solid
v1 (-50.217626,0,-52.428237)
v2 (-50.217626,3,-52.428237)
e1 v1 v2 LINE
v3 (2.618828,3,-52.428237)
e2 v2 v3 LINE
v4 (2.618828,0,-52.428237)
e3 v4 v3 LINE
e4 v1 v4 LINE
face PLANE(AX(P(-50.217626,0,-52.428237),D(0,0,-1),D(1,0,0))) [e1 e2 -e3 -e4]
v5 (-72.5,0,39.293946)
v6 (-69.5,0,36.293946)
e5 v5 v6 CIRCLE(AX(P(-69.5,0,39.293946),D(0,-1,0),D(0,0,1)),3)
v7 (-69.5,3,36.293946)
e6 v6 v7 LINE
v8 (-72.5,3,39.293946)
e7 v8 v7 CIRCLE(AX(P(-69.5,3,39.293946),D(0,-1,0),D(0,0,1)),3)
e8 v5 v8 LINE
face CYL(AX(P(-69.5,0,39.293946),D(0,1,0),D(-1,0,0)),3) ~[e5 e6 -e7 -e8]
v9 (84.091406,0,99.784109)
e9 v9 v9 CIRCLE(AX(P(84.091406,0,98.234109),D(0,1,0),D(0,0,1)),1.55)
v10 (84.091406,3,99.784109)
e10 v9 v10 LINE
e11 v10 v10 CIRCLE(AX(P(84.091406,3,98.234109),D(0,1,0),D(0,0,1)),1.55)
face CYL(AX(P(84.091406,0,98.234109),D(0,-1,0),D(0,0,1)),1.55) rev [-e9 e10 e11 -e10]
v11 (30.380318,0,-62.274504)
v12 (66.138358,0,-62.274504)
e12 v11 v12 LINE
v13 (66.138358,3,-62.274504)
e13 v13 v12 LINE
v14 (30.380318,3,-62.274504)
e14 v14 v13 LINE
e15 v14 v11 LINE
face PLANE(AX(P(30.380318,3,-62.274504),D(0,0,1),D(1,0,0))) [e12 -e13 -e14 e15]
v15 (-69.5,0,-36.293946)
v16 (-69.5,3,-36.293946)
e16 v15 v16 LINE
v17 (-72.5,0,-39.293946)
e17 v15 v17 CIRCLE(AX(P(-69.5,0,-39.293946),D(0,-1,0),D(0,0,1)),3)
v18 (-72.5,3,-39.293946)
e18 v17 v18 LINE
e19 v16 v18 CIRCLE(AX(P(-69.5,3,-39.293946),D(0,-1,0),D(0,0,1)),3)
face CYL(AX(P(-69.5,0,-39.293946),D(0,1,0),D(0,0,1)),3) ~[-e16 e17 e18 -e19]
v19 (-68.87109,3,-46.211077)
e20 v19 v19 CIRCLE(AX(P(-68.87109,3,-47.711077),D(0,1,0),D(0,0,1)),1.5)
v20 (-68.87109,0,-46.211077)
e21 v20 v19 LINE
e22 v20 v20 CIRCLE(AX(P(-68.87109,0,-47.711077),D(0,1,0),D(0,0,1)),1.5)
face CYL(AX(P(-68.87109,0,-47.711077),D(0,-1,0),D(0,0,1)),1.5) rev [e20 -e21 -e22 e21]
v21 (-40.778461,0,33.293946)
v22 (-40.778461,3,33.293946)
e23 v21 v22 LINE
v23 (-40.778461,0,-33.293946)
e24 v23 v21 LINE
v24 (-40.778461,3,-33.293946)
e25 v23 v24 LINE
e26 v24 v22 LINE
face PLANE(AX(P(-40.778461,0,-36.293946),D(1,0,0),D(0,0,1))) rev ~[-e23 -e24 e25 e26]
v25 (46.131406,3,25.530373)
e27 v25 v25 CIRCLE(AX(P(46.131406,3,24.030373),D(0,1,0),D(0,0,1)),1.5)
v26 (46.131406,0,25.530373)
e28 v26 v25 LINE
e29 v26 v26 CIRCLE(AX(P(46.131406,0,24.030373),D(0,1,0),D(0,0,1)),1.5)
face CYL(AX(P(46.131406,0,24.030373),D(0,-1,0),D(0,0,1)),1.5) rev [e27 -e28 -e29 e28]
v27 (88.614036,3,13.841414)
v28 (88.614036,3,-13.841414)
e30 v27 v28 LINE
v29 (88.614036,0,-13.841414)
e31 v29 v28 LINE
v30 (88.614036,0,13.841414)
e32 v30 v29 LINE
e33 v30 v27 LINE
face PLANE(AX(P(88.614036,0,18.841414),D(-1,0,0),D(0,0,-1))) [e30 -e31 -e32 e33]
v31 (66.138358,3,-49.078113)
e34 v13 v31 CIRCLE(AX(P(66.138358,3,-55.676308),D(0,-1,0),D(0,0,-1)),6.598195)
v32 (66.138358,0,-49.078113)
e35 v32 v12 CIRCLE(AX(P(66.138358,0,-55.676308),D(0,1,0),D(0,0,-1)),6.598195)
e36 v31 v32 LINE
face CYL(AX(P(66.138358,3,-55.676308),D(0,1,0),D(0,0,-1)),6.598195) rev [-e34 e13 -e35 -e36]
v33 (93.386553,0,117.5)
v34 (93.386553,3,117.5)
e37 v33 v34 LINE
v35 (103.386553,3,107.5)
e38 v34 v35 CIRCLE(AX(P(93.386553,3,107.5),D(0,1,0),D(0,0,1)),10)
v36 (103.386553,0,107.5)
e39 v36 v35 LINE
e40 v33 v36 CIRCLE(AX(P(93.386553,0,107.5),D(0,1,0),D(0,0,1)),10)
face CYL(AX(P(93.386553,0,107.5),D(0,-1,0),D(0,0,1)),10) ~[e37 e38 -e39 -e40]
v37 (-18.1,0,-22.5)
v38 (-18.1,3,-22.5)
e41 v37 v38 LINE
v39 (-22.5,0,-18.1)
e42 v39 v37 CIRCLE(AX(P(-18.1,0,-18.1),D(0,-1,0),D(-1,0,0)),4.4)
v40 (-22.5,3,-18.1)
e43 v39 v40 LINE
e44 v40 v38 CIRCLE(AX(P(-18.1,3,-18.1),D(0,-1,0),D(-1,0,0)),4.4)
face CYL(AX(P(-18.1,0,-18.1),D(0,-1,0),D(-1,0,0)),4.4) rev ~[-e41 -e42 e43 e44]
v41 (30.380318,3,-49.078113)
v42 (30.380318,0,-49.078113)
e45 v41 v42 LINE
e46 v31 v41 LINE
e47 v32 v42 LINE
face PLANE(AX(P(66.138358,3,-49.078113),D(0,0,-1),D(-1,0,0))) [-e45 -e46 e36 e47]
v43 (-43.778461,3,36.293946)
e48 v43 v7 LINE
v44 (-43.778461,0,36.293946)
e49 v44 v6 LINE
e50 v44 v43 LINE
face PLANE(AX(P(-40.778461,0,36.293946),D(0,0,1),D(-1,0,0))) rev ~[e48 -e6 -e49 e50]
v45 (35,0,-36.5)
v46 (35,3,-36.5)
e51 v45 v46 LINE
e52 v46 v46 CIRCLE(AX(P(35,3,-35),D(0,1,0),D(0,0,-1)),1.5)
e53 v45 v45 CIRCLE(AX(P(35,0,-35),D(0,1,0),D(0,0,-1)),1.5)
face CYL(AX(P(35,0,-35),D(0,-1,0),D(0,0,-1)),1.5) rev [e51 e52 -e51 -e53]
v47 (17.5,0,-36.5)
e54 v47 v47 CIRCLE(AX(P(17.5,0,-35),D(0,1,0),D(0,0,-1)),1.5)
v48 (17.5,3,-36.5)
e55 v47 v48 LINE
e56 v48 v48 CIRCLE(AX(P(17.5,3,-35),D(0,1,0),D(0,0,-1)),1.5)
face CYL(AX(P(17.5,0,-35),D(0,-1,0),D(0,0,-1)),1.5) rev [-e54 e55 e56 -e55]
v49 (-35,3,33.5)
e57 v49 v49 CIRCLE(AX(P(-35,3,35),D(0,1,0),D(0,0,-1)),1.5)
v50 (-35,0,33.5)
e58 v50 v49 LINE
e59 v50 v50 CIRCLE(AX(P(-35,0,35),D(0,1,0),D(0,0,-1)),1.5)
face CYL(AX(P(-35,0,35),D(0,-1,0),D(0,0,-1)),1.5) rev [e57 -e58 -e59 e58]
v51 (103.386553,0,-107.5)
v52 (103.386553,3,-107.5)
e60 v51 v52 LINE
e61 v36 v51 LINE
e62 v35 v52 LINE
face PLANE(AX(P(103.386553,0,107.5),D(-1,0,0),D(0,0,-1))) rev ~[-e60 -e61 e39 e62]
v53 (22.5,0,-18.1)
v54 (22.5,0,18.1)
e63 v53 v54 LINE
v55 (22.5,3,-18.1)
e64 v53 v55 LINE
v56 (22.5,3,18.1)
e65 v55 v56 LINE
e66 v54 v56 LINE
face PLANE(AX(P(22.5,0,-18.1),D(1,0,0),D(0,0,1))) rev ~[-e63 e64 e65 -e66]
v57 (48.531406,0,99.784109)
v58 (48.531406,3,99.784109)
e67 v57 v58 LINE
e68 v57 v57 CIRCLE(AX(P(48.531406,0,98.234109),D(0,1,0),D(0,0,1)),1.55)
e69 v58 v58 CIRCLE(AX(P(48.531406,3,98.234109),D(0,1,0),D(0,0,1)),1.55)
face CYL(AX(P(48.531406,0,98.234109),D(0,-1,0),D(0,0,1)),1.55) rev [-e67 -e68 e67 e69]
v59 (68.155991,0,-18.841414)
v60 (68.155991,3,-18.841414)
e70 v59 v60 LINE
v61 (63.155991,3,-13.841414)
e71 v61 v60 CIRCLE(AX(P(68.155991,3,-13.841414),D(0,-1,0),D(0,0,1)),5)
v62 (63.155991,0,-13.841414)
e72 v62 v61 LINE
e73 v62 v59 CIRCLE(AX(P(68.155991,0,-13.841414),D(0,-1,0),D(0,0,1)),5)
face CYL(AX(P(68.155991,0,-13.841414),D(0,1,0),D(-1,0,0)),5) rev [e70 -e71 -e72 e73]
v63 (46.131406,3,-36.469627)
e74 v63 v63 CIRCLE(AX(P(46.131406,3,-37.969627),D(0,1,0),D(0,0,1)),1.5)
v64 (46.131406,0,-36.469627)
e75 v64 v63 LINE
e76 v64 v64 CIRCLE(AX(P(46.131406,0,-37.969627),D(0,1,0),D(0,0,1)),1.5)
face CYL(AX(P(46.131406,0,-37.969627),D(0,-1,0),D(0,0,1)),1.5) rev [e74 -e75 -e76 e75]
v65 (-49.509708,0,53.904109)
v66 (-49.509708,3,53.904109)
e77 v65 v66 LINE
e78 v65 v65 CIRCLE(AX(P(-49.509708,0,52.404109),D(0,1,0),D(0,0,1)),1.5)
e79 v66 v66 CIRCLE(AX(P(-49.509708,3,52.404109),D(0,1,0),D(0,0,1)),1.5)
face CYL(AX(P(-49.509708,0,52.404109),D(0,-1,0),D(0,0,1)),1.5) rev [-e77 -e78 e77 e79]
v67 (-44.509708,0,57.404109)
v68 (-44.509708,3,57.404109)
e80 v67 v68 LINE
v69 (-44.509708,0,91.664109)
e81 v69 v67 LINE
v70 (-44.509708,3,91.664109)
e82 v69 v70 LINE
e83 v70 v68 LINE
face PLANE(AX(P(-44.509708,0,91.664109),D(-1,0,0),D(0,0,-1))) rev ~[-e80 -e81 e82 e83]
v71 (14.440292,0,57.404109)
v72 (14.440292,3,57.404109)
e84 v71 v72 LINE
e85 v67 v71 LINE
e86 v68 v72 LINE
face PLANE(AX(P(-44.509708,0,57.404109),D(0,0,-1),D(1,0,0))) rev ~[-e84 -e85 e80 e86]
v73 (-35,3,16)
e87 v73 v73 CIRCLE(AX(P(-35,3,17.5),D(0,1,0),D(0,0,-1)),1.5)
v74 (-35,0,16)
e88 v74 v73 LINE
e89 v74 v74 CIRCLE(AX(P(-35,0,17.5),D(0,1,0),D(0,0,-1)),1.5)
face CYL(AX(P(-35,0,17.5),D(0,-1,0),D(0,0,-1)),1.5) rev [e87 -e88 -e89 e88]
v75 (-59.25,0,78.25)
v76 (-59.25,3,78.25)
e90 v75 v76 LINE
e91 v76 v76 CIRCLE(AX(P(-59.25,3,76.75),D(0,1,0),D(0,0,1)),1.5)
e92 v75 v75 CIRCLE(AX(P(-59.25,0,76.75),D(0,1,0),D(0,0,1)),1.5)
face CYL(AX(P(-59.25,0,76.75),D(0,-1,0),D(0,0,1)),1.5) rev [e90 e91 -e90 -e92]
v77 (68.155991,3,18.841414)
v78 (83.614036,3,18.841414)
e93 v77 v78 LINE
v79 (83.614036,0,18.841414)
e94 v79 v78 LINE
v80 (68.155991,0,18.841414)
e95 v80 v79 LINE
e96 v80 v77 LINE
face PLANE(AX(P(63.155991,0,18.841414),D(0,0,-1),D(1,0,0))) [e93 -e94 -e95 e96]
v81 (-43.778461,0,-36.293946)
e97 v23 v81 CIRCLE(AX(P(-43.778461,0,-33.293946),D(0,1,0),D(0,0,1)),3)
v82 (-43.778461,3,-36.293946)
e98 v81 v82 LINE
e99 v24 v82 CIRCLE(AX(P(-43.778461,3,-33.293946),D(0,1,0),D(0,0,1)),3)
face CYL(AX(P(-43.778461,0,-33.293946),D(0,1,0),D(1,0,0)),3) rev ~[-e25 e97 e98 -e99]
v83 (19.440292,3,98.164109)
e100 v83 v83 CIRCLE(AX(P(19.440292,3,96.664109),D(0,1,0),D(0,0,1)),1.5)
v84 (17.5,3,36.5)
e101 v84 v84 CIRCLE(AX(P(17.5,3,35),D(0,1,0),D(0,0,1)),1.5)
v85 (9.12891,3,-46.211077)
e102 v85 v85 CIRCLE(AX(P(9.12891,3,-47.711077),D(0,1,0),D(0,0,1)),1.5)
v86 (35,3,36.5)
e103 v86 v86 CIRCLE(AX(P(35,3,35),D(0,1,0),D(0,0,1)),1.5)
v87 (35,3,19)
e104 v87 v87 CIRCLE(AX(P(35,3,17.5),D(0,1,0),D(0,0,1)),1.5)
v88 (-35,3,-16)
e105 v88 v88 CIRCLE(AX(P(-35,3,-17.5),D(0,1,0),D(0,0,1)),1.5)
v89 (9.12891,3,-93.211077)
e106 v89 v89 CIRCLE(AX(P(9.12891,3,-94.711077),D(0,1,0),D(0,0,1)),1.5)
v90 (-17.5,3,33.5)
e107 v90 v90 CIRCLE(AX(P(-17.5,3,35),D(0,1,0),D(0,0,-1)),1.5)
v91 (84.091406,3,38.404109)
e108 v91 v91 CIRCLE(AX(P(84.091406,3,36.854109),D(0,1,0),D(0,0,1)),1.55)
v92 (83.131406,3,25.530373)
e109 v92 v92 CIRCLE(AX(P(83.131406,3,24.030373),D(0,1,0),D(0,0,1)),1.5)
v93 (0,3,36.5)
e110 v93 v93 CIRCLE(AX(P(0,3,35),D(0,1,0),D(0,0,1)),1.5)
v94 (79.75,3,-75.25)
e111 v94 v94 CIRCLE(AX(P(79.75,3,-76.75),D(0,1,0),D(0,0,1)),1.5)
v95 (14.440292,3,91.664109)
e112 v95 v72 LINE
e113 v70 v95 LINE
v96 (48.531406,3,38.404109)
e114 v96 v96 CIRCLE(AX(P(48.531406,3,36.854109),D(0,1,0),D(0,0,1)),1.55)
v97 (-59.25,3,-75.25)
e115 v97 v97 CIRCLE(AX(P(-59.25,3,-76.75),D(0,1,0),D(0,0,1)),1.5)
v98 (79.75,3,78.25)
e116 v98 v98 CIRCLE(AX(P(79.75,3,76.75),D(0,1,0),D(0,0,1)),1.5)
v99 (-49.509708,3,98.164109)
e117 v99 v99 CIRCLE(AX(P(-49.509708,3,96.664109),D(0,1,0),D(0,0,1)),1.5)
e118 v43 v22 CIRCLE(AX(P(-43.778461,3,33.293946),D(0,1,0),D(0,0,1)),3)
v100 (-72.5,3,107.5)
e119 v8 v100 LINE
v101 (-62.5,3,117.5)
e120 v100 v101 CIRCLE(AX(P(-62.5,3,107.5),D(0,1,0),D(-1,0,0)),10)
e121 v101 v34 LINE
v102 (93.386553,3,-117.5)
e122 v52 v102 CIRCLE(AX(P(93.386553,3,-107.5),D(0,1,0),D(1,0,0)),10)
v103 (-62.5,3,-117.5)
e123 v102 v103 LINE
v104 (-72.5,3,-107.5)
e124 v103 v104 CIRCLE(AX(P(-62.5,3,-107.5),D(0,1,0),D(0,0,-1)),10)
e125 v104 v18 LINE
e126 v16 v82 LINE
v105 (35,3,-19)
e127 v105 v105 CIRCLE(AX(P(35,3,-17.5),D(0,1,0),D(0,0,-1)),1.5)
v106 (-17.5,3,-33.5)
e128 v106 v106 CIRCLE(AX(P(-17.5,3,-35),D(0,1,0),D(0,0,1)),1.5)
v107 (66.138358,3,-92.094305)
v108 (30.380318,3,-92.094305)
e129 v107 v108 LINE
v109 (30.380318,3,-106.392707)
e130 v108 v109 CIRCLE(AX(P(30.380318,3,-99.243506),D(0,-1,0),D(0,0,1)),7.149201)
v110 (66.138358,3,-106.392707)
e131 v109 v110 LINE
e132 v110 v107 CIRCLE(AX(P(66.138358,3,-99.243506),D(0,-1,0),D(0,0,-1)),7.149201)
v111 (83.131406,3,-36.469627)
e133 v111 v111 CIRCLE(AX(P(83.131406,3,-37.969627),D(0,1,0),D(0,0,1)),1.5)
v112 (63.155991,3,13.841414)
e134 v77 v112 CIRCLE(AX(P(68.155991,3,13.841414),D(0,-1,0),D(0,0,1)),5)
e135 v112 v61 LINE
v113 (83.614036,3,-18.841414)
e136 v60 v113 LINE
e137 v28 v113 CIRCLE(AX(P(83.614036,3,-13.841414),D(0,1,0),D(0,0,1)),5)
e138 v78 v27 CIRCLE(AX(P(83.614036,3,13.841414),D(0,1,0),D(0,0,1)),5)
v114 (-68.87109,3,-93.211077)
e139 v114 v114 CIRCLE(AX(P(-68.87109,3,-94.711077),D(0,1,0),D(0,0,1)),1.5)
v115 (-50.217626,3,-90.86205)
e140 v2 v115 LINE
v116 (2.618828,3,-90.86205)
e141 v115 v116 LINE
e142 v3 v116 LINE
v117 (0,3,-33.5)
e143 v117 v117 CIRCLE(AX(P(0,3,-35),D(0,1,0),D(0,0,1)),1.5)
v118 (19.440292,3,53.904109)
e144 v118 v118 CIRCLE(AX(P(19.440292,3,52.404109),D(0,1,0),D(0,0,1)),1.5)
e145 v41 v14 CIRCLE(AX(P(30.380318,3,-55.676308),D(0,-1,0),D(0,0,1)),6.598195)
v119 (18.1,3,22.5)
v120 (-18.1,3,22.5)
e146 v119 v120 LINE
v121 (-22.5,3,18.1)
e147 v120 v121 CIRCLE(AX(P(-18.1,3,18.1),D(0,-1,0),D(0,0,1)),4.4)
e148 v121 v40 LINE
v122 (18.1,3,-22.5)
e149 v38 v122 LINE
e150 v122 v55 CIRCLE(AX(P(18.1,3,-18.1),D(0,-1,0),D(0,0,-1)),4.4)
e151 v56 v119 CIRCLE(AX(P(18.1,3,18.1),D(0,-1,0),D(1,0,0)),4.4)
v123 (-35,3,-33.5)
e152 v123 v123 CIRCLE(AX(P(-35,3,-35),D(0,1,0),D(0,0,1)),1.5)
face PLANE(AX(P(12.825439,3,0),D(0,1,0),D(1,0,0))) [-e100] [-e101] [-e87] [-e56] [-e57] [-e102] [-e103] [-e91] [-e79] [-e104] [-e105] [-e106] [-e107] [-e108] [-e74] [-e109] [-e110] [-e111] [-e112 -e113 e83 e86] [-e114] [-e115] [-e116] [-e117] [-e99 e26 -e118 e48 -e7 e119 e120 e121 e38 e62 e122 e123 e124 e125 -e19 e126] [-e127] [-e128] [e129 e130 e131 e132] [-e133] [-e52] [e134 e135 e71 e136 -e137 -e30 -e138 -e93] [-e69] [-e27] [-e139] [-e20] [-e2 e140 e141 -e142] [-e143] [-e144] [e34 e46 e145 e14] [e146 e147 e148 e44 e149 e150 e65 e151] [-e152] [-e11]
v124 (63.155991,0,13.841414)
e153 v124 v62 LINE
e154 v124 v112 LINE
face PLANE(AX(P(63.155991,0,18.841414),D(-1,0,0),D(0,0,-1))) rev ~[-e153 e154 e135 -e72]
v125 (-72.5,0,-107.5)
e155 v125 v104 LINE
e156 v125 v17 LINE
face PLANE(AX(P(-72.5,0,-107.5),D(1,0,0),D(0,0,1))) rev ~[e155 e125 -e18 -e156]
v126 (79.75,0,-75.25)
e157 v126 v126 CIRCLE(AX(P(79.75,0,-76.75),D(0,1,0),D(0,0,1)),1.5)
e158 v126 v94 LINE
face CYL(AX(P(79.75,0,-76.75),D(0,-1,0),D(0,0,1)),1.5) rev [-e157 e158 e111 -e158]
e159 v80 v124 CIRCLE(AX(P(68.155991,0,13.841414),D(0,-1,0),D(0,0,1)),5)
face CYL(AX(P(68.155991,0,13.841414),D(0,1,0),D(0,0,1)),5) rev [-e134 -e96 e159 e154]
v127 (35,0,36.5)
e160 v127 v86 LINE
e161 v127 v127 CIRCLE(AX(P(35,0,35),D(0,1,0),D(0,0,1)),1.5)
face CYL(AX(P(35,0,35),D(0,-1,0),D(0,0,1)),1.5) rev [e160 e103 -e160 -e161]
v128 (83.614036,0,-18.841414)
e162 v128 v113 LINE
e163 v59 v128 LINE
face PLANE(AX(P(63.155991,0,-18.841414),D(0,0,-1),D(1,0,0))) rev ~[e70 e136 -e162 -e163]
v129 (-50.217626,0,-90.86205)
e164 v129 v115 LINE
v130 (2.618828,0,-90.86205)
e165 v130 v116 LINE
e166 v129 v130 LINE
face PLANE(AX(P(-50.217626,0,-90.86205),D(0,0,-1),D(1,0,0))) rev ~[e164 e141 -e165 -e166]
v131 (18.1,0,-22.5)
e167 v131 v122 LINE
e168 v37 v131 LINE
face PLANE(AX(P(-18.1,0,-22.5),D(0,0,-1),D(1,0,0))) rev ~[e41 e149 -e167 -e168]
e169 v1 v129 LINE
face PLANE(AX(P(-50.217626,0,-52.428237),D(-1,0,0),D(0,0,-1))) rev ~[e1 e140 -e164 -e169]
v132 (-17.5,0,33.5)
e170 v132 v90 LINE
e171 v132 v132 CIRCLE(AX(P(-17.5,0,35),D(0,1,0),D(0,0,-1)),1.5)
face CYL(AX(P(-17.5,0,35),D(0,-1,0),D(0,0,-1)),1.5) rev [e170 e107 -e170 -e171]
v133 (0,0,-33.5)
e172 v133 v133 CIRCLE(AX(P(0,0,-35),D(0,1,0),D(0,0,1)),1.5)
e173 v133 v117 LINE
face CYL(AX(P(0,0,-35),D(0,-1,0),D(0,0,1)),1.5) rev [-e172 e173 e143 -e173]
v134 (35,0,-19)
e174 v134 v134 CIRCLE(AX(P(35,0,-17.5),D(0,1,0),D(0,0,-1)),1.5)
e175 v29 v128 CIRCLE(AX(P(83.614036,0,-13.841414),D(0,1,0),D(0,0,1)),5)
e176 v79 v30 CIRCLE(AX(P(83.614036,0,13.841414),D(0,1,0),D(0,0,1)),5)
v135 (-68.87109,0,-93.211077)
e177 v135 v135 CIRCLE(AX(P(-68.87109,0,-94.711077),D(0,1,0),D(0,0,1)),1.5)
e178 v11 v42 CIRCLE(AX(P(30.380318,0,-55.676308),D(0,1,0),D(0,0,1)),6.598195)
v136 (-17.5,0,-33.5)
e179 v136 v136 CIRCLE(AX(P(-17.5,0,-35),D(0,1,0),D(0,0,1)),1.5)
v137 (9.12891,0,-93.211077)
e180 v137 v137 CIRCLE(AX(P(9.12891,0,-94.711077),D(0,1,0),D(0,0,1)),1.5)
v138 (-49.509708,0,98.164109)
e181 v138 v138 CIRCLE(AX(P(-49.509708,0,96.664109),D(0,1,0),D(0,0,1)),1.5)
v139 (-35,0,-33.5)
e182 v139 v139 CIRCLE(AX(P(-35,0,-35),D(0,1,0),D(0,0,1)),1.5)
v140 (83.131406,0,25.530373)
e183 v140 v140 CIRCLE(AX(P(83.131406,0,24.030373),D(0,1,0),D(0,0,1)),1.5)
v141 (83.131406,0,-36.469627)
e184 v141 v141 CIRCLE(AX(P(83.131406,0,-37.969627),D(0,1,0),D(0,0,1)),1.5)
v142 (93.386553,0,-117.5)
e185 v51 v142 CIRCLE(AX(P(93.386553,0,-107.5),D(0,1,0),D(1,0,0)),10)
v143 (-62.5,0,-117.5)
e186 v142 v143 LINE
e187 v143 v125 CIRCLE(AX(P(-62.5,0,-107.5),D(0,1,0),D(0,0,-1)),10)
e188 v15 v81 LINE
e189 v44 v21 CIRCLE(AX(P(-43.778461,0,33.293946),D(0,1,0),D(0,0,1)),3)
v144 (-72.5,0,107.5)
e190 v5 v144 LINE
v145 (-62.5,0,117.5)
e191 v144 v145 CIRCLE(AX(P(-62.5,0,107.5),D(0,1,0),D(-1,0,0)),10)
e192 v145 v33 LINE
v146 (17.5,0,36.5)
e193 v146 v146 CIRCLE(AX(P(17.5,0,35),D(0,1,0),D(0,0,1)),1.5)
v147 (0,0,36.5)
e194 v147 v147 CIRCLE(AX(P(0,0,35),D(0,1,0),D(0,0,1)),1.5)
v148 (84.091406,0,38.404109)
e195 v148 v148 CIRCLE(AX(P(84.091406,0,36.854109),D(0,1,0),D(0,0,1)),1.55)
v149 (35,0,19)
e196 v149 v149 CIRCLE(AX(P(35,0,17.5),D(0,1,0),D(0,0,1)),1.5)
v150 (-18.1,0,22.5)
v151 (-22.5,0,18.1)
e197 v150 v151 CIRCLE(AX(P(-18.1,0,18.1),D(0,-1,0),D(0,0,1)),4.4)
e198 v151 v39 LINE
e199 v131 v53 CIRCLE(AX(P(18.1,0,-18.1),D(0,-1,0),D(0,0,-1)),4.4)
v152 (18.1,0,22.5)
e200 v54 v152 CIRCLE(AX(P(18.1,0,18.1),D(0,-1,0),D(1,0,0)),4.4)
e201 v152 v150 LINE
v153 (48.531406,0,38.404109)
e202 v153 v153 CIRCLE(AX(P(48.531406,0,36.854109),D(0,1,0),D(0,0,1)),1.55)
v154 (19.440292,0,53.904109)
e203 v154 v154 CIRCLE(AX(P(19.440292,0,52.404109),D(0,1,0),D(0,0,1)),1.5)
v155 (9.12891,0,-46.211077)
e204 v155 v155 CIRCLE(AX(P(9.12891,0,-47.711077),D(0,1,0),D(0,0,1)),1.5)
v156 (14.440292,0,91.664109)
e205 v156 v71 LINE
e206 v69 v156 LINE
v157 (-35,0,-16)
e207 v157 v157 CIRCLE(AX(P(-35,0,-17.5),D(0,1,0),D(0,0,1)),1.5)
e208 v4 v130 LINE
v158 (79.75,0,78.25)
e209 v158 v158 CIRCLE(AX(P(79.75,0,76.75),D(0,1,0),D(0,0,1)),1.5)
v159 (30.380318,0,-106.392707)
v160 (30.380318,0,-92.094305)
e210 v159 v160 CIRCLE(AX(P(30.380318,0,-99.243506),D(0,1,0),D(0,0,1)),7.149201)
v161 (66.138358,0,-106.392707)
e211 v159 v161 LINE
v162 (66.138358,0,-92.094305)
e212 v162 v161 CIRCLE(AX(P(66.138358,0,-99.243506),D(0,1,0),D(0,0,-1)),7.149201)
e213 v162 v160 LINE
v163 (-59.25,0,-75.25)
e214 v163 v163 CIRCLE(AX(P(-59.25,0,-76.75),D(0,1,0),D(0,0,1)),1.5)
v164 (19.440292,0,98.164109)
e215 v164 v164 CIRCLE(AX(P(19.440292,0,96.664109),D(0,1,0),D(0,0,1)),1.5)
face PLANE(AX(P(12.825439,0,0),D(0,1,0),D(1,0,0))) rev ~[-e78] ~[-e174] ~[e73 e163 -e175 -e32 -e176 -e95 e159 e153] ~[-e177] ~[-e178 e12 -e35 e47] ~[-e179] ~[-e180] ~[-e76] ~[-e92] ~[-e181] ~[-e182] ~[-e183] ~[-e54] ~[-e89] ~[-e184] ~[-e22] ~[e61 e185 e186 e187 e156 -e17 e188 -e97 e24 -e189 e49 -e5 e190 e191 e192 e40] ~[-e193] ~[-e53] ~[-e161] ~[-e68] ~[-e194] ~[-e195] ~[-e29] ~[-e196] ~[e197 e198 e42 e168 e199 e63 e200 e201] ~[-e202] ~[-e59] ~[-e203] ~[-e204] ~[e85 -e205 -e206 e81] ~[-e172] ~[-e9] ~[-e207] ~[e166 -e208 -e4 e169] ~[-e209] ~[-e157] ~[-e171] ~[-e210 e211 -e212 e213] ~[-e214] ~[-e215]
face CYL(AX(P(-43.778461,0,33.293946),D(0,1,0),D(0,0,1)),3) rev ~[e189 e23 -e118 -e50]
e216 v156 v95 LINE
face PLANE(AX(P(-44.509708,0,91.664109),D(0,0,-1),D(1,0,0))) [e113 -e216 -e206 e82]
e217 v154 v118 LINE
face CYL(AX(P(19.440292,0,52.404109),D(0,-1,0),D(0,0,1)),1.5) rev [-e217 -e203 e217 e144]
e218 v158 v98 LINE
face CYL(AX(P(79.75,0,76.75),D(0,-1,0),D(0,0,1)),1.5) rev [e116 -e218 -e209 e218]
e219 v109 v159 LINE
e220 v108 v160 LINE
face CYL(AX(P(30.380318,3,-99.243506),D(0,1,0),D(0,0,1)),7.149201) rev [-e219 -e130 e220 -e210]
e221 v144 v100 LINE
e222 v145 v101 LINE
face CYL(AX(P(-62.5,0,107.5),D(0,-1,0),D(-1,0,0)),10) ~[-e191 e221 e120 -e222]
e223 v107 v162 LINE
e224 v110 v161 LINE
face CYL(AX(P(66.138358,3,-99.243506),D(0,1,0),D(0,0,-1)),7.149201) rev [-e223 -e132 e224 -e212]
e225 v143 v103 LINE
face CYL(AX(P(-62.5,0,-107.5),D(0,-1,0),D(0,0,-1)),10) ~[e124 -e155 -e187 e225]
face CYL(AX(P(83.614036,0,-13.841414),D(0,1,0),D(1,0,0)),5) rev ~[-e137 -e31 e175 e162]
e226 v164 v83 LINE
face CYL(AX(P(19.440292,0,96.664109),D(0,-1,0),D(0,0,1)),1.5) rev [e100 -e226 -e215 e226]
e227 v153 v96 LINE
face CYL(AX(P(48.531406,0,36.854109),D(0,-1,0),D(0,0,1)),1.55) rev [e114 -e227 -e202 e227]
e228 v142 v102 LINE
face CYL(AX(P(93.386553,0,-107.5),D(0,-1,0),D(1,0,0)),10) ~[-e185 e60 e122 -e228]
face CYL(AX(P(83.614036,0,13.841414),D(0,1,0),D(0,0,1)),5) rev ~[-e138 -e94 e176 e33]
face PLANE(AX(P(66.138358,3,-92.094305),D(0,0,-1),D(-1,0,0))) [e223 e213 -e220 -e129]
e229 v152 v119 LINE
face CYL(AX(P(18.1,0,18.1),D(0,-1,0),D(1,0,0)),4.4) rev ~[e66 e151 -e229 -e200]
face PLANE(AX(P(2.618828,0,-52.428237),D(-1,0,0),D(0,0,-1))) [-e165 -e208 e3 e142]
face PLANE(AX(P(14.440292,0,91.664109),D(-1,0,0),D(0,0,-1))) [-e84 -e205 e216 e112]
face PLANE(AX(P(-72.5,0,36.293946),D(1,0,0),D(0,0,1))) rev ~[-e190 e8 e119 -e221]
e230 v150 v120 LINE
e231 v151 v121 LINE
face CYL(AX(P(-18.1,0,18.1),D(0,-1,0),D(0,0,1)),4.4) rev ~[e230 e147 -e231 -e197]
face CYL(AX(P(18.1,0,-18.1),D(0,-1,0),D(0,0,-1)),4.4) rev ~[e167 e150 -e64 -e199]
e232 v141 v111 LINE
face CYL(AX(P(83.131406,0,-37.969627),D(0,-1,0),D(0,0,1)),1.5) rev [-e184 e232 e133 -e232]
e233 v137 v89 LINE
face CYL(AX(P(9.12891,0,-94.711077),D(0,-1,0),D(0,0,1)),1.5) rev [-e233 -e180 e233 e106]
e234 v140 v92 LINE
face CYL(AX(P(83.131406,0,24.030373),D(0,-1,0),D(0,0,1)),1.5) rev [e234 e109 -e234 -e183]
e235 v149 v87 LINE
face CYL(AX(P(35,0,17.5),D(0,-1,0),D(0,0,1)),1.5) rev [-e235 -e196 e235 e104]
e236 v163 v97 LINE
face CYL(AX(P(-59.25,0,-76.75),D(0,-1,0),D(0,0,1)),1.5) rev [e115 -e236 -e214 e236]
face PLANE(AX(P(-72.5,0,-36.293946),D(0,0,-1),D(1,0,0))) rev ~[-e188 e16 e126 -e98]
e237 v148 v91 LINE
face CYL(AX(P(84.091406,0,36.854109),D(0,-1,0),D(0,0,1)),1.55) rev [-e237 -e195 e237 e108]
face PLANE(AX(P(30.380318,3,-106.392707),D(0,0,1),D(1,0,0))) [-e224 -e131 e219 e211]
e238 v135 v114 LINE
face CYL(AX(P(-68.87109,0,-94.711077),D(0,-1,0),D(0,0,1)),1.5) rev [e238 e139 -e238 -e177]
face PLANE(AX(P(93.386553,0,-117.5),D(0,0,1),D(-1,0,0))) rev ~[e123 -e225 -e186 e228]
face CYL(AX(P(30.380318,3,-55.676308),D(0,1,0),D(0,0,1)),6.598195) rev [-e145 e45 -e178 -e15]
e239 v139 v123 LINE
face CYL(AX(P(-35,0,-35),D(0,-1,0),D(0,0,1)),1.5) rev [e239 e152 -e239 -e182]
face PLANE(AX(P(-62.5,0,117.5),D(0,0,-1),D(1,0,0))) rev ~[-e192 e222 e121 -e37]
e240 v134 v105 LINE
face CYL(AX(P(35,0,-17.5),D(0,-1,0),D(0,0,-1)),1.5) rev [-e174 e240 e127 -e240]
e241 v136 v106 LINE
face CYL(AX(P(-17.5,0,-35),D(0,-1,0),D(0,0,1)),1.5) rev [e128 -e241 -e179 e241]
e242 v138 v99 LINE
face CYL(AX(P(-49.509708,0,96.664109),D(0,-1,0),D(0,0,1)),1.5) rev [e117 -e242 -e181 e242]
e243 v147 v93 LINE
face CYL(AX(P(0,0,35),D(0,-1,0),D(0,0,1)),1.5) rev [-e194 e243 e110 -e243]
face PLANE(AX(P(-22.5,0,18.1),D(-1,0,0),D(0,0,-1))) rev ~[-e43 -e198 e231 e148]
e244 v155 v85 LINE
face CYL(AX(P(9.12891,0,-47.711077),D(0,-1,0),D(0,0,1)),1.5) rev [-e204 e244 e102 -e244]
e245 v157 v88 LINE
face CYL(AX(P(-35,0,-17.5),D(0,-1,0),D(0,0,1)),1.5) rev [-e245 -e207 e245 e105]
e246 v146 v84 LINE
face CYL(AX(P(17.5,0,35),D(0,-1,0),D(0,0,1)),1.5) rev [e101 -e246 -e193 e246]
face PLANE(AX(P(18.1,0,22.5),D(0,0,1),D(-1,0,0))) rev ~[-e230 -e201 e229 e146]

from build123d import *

# Parameters (mm, degrees)
SKETCH_2_R          = 1.5
SKETCH_2_R_2        = 1.55
SKETCH_2_W          = 58.95
SKETCH_2_H          = 34.26
SKETCH_2_W_2        = 25.458045559
SKETCH_2_H_2        = 37.682827862
SKETCH_2_W_3        = 52.836453453
SKETCH_2_H_3        = 38.433812924
EXTRUDE_2_DEPTH     = 3
FILLET_2_R          = 3
FILLET_3_R          = 5
CUT_EXTRUDE_1_DEPTH = 157.537629335


with BuildPart() as part:
    # 草图2 → 凸台-拉伸2 (new body)
    with BuildSketch(Plane(origin=(0, 0, 0), x_dir=(1, 0, 0), z_dir=(0, 1, 0))):
        with BuildLine():
            Line((-72.5, -36.293945631), (-72.5, -107.5))
            ThreePointArc((-72.5, -107.5), (-69.571067812, -114.571067812), (-62.5, -117.5))
            Line((-62.5, -117.5), (93.386553273, -117.5))
            ThreePointArc((93.386553273, -117.5), (100.457621085, -114.571067812), (103.386553273, -107.5))
            Line((103.386553273, -107.5), (103.386553273, 107.5))
            ThreePointArc((103.386553273, 107.5), (100.457621085, 114.571067812), (93.386553273, 117.5))
            Line((93.386553273, 117.5), (-62.5, 117.5))
            ThreePointArc((-62.5, 117.5), (-69.571067812, 114.571067812), (-72.5, 107.5))
            Line((-72.5, 107.5), (-72.5, 36.293945631))
            Line((-72.5, 36.293945631), (-40.778460838, 36.293945631))
            Line((-40.778460838, 36.293945631), (-40.778460838, -36.293945631))
            Line((-40.778460838, -36.293945631), (-72.5, -36.293945631))
        make_face()
        with Locations(Location((-35, 35, 0), (0, 0, 270))):
            Circle(SKETCH_2_R, mode=Mode.SUBTRACT)
        with Locations(Location((35, 35, 0), (0, 0, 90))):
            Circle(SKETCH_2_R, mode=Mode.SUBTRACT)
        with Locations(Location((35, -35, 0), (0, 0, 270))):
            Circle(SKETCH_2_R, mode=Mode.SUBTRACT)
        with Locations(Location((-35, -35, 0), (0, 0, 90))):
            Circle(SKETCH_2_R, mode=Mode.SUBTRACT)
        with Locations(Location((-17.5, 35, 0), (0, 0, 270))):
            Circle(SKETCH_2_R, mode=Mode.SUBTRACT)
        with Locations(Location((17.5, 35, 0), (0, 0, 90))):
            Circle(SKETCH_2_R, mode=Mode.SUBTRACT)
        with Locations(Location((-17.5, -35, 0), (0, 0, 90))):
            Circle(SKETCH_2_R, mode=Mode.SUBTRACT)
        with Locations(Location((17.5, -35, 0), (0, 0, 270))):
            Circle(SKETCH_2_R, mode=Mode.SUBTRACT)
        with Locations(Location((-35, 17.5, 0), (0, 0, 270))):
            Circle(SKETCH_2_R, mode=Mode.SUBTRACT)
        with Locations(Location((-35, -17.5, 0), (0, 0, 90))):
            Circle(SKETCH_2_R, mode=Mode.SUBTRACT)
        with Locations(Location((35, -17.5, 0), (0, 0, 270))):
            Circle(SKETCH_2_R, mode=Mode.SUBTRACT)
        with Locations(Location((35, 17.5, 0), (0, 0, 90))):
            Circle(SKETCH_2_R, mode=Mode.SUBTRACT)
        with Locations(Location((0, 35, 0), (0, 0, 270))):
            Circle(SKETCH_2_R, mode=Mode.SUBTRACT)
        with Locations(Location((0, -35, 0), (0, 0, 270))):
            Circle(SKETCH_2_R, mode=Mode.SUBTRACT)
        with Locations(Location((-49.509707517, -52.404109444, 0), (0, 0, 270))):
            Circle(SKETCH_2_R, mode=Mode.SUBTRACT)
        with Locations(Location((-49.509707517, -96.664109444, 0), (0, 0, 270))):
            Circle(SKETCH_2_R, mode=Mode.SUBTRACT)
        with Locations(Location((19.440292483, -52.404109444, 0), (0, 0, 270))):
            Circle(SKETCH_2_R, mode=Mode.SUBTRACT)
        with Locations(Location((19.440292483, -96.664109444, 0), (0, 0, 270))):
            Circle(SKETCH_2_R, mode=Mode.SUBTRACT)
        with Locations(Location((-59.25, -76.75, 0), (0, 0, 270))):
            Circle(SKETCH_2_R, mode=Mode.SUBTRACT)
        with Locations(Location((79.75, -76.75, 0), (0, 0, 270))):
            Circle(SKETCH_2_R, mode=Mode.SUBTRACT)
        with Locations(Location((79.75, 76.75, 0), (0, 0, 270))):
            Circle(SKETCH_2_R, mode=Mode.SUBTRACT)
        with Locations(Location((-59.25, 76.75, 0), (0, 0, 270))):
            Circle(SKETCH_2_R, mode=Mode.SUBTRACT)
        with Locations(Location((-68.87108956, 94.711076741, 0), (0, 0, 270))):
            Circle(SKETCH_2_R, mode=Mode.SUBTRACT)
        with Locations(Location((-68.87108956, 47.711076741, 0), (0, 0, 270))):
            Circle(SKETCH_2_R, mode=Mode.SUBTRACT)
        with Locations(Location((9.12891044, 47.711076741, 0), (0, 0, 270))):
            Circle(SKETCH_2_R, mode=Mode.SUBTRACT)
        with Locations(Location((9.12891044, 94.711076741, 0), (0, 0, 270))):
            Circle(SKETCH_2_R, mode=Mode.SUBTRACT)
        with Locations(Location((48.531405595, -36.854109444, 0), (0, 0, 270))):
            Circle(SKETCH_2_R_2, mode=Mode.SUBTRACT)
        with Locations(Location((84.091405595, -36.854109444, 0), (0, 0, 270))):
            Circle(SKETCH_2_R_2, mode=Mode.SUBTRACT)
        with Locations(Location((48.531405595, -98.234109444, 0), (0, 0, 270))):
            Circle(SKETCH_2_R_2, mode=Mode.SUBTRACT)
        with Locations(Location((84.091405595, -98.234109444, 0), (0, 0, 270))):
            Circle(SKETCH_2_R_2, mode=Mode.SUBTRACT)
        with Locations(Location((46.131405595, 37.969626598, 0), (0, 0, 270))):
            Circle(SKETCH_2_R, mode=Mode.SUBTRACT)
        with Locations(Location((83.131405595, 37.969626598, 0), (0, 0, 270))):
            Circle(SKETCH_2_R, mode=Mode.SUBTRACT)
        with Locations(Location((46.131405595, -24.030373402, 0), (0, 0, 270))):
            Circle(SKETCH_2_R, mode=Mode.SUBTRACT)
        with Locations(Location((83.131405595, -24.030373402, 0), (0, 0, 270))):
            Circle(SKETCH_2_R, mode=Mode.SUBTRACT)
        with BuildLine():
            Line((-18.1, 22.5), (18.1, 22.5))
            ThreePointArc((18.1, 22.5), (21.211269837, 21.211269837), (22.5, 18.1))
            Line((22.5, 18.1), (22.5, -18.1))
            ThreePointArc((22.5, -18.1), (21.211269837, -21.211269837), (18.1, -22.5))
            Line((18.1, -22.5), (-18.1, -22.5))
            ThreePointArc((-18.1, -22.5), (-21.211269837, -21.211269837), (-22.5, -18.1))
            Line((-22.5, -18.1), (-22.5, 18.1))
            ThreePointArc((-22.5, 18.1), (-21.211269837, 21.211269837), (-18.1, 22.5))
        make_face(mode=Mode.SUBTRACT)
        with Locations((-15.034707517, -74.534109444)):
            Rectangle(SKETCH_2_W, SKETCH_2_H, mode=Mode.SUBTRACT)
        with Locations((75.885013297, 0)):
            Rectangle(SKETCH_2_W_2, SKETCH_2_H_2, mode=Mode.SUBTRACT)
        with Locations((-23.799399193, 71.645143509)):
            Rectangle(SKETCH_2_W_3, SKETCH_2_H_3, mode=Mode.SUBTRACT)
    extrude(amount=EXTRUDE_2_DEPTH)

    # 圆角2
    fillet_2_edges = [part.edges().sort_by_distance(p)[0] for p in [
        (-72.5, 1.5, 36.293945631),
        (-40.778460838, 1.5, 36.293945631),
        (-40.778460838, 1.5, -36.293945631),
        (-72.5, 1.5, -36.293945631),
    ]]
    fillet(fillet_2_edges, radius=FILLET_2_R)

    # 圆角3
    fillet_3_edges = [part.edges().sort_by_distance(p)[0] for p in [
        (88.614036076, 1.5, 18.841413931),
        (88.614036076, 1.5, -18.841413931),
        (63.155990517, 1.5, -18.841413931),
        (63.155990517, 1.5, 18.841413931),
    ]]
    fillet(fillet_3_edges, radius=FILLET_3_R)

    # 草图3 → 切除-拉伸1 (cut, through all)
    with BuildSketch(Plane(origin=(0, 3, 0), x_dir=(1, 0, 0), z_dir=(0, 1, 0))):
        with BuildLine():
            Line((30.380318315, 106.392706566), (66.1383582, 106.392706566))
            ThreePointArc((66.1383582, 106.392706566), (73.287559025, 99.243505741), (66.1383582, 92.094304917))
            Line((66.1383582, 92.094304917), (30.380318315, 92.094304917))
            ThreePointArc((30.380318315, 92.094304917), (23.23111749, 99.243505741), (30.380318315, 106.392706566))
        make_face()
        with BuildLine():
            Line((30.380318315, 62.274503657), (66.1383582, 62.274503657))
            ThreePointArc((66.1383582, 62.274503657), (72.736553362, 55.676308496), (66.1383582, 49.078113334))
            Line((66.1383582, 49.078113334), (30.380318315, 49.078113334))
            ThreePointArc((30.380318315, 49.078113334), (23.782123153, 55.676308496), (30.380318315, 62.274503657))
        make_face()
    extrude(amount=-CUT_EXTRUDE_1_DEPTH, mode=Mode.SUBTRACT)


solid = part.part
